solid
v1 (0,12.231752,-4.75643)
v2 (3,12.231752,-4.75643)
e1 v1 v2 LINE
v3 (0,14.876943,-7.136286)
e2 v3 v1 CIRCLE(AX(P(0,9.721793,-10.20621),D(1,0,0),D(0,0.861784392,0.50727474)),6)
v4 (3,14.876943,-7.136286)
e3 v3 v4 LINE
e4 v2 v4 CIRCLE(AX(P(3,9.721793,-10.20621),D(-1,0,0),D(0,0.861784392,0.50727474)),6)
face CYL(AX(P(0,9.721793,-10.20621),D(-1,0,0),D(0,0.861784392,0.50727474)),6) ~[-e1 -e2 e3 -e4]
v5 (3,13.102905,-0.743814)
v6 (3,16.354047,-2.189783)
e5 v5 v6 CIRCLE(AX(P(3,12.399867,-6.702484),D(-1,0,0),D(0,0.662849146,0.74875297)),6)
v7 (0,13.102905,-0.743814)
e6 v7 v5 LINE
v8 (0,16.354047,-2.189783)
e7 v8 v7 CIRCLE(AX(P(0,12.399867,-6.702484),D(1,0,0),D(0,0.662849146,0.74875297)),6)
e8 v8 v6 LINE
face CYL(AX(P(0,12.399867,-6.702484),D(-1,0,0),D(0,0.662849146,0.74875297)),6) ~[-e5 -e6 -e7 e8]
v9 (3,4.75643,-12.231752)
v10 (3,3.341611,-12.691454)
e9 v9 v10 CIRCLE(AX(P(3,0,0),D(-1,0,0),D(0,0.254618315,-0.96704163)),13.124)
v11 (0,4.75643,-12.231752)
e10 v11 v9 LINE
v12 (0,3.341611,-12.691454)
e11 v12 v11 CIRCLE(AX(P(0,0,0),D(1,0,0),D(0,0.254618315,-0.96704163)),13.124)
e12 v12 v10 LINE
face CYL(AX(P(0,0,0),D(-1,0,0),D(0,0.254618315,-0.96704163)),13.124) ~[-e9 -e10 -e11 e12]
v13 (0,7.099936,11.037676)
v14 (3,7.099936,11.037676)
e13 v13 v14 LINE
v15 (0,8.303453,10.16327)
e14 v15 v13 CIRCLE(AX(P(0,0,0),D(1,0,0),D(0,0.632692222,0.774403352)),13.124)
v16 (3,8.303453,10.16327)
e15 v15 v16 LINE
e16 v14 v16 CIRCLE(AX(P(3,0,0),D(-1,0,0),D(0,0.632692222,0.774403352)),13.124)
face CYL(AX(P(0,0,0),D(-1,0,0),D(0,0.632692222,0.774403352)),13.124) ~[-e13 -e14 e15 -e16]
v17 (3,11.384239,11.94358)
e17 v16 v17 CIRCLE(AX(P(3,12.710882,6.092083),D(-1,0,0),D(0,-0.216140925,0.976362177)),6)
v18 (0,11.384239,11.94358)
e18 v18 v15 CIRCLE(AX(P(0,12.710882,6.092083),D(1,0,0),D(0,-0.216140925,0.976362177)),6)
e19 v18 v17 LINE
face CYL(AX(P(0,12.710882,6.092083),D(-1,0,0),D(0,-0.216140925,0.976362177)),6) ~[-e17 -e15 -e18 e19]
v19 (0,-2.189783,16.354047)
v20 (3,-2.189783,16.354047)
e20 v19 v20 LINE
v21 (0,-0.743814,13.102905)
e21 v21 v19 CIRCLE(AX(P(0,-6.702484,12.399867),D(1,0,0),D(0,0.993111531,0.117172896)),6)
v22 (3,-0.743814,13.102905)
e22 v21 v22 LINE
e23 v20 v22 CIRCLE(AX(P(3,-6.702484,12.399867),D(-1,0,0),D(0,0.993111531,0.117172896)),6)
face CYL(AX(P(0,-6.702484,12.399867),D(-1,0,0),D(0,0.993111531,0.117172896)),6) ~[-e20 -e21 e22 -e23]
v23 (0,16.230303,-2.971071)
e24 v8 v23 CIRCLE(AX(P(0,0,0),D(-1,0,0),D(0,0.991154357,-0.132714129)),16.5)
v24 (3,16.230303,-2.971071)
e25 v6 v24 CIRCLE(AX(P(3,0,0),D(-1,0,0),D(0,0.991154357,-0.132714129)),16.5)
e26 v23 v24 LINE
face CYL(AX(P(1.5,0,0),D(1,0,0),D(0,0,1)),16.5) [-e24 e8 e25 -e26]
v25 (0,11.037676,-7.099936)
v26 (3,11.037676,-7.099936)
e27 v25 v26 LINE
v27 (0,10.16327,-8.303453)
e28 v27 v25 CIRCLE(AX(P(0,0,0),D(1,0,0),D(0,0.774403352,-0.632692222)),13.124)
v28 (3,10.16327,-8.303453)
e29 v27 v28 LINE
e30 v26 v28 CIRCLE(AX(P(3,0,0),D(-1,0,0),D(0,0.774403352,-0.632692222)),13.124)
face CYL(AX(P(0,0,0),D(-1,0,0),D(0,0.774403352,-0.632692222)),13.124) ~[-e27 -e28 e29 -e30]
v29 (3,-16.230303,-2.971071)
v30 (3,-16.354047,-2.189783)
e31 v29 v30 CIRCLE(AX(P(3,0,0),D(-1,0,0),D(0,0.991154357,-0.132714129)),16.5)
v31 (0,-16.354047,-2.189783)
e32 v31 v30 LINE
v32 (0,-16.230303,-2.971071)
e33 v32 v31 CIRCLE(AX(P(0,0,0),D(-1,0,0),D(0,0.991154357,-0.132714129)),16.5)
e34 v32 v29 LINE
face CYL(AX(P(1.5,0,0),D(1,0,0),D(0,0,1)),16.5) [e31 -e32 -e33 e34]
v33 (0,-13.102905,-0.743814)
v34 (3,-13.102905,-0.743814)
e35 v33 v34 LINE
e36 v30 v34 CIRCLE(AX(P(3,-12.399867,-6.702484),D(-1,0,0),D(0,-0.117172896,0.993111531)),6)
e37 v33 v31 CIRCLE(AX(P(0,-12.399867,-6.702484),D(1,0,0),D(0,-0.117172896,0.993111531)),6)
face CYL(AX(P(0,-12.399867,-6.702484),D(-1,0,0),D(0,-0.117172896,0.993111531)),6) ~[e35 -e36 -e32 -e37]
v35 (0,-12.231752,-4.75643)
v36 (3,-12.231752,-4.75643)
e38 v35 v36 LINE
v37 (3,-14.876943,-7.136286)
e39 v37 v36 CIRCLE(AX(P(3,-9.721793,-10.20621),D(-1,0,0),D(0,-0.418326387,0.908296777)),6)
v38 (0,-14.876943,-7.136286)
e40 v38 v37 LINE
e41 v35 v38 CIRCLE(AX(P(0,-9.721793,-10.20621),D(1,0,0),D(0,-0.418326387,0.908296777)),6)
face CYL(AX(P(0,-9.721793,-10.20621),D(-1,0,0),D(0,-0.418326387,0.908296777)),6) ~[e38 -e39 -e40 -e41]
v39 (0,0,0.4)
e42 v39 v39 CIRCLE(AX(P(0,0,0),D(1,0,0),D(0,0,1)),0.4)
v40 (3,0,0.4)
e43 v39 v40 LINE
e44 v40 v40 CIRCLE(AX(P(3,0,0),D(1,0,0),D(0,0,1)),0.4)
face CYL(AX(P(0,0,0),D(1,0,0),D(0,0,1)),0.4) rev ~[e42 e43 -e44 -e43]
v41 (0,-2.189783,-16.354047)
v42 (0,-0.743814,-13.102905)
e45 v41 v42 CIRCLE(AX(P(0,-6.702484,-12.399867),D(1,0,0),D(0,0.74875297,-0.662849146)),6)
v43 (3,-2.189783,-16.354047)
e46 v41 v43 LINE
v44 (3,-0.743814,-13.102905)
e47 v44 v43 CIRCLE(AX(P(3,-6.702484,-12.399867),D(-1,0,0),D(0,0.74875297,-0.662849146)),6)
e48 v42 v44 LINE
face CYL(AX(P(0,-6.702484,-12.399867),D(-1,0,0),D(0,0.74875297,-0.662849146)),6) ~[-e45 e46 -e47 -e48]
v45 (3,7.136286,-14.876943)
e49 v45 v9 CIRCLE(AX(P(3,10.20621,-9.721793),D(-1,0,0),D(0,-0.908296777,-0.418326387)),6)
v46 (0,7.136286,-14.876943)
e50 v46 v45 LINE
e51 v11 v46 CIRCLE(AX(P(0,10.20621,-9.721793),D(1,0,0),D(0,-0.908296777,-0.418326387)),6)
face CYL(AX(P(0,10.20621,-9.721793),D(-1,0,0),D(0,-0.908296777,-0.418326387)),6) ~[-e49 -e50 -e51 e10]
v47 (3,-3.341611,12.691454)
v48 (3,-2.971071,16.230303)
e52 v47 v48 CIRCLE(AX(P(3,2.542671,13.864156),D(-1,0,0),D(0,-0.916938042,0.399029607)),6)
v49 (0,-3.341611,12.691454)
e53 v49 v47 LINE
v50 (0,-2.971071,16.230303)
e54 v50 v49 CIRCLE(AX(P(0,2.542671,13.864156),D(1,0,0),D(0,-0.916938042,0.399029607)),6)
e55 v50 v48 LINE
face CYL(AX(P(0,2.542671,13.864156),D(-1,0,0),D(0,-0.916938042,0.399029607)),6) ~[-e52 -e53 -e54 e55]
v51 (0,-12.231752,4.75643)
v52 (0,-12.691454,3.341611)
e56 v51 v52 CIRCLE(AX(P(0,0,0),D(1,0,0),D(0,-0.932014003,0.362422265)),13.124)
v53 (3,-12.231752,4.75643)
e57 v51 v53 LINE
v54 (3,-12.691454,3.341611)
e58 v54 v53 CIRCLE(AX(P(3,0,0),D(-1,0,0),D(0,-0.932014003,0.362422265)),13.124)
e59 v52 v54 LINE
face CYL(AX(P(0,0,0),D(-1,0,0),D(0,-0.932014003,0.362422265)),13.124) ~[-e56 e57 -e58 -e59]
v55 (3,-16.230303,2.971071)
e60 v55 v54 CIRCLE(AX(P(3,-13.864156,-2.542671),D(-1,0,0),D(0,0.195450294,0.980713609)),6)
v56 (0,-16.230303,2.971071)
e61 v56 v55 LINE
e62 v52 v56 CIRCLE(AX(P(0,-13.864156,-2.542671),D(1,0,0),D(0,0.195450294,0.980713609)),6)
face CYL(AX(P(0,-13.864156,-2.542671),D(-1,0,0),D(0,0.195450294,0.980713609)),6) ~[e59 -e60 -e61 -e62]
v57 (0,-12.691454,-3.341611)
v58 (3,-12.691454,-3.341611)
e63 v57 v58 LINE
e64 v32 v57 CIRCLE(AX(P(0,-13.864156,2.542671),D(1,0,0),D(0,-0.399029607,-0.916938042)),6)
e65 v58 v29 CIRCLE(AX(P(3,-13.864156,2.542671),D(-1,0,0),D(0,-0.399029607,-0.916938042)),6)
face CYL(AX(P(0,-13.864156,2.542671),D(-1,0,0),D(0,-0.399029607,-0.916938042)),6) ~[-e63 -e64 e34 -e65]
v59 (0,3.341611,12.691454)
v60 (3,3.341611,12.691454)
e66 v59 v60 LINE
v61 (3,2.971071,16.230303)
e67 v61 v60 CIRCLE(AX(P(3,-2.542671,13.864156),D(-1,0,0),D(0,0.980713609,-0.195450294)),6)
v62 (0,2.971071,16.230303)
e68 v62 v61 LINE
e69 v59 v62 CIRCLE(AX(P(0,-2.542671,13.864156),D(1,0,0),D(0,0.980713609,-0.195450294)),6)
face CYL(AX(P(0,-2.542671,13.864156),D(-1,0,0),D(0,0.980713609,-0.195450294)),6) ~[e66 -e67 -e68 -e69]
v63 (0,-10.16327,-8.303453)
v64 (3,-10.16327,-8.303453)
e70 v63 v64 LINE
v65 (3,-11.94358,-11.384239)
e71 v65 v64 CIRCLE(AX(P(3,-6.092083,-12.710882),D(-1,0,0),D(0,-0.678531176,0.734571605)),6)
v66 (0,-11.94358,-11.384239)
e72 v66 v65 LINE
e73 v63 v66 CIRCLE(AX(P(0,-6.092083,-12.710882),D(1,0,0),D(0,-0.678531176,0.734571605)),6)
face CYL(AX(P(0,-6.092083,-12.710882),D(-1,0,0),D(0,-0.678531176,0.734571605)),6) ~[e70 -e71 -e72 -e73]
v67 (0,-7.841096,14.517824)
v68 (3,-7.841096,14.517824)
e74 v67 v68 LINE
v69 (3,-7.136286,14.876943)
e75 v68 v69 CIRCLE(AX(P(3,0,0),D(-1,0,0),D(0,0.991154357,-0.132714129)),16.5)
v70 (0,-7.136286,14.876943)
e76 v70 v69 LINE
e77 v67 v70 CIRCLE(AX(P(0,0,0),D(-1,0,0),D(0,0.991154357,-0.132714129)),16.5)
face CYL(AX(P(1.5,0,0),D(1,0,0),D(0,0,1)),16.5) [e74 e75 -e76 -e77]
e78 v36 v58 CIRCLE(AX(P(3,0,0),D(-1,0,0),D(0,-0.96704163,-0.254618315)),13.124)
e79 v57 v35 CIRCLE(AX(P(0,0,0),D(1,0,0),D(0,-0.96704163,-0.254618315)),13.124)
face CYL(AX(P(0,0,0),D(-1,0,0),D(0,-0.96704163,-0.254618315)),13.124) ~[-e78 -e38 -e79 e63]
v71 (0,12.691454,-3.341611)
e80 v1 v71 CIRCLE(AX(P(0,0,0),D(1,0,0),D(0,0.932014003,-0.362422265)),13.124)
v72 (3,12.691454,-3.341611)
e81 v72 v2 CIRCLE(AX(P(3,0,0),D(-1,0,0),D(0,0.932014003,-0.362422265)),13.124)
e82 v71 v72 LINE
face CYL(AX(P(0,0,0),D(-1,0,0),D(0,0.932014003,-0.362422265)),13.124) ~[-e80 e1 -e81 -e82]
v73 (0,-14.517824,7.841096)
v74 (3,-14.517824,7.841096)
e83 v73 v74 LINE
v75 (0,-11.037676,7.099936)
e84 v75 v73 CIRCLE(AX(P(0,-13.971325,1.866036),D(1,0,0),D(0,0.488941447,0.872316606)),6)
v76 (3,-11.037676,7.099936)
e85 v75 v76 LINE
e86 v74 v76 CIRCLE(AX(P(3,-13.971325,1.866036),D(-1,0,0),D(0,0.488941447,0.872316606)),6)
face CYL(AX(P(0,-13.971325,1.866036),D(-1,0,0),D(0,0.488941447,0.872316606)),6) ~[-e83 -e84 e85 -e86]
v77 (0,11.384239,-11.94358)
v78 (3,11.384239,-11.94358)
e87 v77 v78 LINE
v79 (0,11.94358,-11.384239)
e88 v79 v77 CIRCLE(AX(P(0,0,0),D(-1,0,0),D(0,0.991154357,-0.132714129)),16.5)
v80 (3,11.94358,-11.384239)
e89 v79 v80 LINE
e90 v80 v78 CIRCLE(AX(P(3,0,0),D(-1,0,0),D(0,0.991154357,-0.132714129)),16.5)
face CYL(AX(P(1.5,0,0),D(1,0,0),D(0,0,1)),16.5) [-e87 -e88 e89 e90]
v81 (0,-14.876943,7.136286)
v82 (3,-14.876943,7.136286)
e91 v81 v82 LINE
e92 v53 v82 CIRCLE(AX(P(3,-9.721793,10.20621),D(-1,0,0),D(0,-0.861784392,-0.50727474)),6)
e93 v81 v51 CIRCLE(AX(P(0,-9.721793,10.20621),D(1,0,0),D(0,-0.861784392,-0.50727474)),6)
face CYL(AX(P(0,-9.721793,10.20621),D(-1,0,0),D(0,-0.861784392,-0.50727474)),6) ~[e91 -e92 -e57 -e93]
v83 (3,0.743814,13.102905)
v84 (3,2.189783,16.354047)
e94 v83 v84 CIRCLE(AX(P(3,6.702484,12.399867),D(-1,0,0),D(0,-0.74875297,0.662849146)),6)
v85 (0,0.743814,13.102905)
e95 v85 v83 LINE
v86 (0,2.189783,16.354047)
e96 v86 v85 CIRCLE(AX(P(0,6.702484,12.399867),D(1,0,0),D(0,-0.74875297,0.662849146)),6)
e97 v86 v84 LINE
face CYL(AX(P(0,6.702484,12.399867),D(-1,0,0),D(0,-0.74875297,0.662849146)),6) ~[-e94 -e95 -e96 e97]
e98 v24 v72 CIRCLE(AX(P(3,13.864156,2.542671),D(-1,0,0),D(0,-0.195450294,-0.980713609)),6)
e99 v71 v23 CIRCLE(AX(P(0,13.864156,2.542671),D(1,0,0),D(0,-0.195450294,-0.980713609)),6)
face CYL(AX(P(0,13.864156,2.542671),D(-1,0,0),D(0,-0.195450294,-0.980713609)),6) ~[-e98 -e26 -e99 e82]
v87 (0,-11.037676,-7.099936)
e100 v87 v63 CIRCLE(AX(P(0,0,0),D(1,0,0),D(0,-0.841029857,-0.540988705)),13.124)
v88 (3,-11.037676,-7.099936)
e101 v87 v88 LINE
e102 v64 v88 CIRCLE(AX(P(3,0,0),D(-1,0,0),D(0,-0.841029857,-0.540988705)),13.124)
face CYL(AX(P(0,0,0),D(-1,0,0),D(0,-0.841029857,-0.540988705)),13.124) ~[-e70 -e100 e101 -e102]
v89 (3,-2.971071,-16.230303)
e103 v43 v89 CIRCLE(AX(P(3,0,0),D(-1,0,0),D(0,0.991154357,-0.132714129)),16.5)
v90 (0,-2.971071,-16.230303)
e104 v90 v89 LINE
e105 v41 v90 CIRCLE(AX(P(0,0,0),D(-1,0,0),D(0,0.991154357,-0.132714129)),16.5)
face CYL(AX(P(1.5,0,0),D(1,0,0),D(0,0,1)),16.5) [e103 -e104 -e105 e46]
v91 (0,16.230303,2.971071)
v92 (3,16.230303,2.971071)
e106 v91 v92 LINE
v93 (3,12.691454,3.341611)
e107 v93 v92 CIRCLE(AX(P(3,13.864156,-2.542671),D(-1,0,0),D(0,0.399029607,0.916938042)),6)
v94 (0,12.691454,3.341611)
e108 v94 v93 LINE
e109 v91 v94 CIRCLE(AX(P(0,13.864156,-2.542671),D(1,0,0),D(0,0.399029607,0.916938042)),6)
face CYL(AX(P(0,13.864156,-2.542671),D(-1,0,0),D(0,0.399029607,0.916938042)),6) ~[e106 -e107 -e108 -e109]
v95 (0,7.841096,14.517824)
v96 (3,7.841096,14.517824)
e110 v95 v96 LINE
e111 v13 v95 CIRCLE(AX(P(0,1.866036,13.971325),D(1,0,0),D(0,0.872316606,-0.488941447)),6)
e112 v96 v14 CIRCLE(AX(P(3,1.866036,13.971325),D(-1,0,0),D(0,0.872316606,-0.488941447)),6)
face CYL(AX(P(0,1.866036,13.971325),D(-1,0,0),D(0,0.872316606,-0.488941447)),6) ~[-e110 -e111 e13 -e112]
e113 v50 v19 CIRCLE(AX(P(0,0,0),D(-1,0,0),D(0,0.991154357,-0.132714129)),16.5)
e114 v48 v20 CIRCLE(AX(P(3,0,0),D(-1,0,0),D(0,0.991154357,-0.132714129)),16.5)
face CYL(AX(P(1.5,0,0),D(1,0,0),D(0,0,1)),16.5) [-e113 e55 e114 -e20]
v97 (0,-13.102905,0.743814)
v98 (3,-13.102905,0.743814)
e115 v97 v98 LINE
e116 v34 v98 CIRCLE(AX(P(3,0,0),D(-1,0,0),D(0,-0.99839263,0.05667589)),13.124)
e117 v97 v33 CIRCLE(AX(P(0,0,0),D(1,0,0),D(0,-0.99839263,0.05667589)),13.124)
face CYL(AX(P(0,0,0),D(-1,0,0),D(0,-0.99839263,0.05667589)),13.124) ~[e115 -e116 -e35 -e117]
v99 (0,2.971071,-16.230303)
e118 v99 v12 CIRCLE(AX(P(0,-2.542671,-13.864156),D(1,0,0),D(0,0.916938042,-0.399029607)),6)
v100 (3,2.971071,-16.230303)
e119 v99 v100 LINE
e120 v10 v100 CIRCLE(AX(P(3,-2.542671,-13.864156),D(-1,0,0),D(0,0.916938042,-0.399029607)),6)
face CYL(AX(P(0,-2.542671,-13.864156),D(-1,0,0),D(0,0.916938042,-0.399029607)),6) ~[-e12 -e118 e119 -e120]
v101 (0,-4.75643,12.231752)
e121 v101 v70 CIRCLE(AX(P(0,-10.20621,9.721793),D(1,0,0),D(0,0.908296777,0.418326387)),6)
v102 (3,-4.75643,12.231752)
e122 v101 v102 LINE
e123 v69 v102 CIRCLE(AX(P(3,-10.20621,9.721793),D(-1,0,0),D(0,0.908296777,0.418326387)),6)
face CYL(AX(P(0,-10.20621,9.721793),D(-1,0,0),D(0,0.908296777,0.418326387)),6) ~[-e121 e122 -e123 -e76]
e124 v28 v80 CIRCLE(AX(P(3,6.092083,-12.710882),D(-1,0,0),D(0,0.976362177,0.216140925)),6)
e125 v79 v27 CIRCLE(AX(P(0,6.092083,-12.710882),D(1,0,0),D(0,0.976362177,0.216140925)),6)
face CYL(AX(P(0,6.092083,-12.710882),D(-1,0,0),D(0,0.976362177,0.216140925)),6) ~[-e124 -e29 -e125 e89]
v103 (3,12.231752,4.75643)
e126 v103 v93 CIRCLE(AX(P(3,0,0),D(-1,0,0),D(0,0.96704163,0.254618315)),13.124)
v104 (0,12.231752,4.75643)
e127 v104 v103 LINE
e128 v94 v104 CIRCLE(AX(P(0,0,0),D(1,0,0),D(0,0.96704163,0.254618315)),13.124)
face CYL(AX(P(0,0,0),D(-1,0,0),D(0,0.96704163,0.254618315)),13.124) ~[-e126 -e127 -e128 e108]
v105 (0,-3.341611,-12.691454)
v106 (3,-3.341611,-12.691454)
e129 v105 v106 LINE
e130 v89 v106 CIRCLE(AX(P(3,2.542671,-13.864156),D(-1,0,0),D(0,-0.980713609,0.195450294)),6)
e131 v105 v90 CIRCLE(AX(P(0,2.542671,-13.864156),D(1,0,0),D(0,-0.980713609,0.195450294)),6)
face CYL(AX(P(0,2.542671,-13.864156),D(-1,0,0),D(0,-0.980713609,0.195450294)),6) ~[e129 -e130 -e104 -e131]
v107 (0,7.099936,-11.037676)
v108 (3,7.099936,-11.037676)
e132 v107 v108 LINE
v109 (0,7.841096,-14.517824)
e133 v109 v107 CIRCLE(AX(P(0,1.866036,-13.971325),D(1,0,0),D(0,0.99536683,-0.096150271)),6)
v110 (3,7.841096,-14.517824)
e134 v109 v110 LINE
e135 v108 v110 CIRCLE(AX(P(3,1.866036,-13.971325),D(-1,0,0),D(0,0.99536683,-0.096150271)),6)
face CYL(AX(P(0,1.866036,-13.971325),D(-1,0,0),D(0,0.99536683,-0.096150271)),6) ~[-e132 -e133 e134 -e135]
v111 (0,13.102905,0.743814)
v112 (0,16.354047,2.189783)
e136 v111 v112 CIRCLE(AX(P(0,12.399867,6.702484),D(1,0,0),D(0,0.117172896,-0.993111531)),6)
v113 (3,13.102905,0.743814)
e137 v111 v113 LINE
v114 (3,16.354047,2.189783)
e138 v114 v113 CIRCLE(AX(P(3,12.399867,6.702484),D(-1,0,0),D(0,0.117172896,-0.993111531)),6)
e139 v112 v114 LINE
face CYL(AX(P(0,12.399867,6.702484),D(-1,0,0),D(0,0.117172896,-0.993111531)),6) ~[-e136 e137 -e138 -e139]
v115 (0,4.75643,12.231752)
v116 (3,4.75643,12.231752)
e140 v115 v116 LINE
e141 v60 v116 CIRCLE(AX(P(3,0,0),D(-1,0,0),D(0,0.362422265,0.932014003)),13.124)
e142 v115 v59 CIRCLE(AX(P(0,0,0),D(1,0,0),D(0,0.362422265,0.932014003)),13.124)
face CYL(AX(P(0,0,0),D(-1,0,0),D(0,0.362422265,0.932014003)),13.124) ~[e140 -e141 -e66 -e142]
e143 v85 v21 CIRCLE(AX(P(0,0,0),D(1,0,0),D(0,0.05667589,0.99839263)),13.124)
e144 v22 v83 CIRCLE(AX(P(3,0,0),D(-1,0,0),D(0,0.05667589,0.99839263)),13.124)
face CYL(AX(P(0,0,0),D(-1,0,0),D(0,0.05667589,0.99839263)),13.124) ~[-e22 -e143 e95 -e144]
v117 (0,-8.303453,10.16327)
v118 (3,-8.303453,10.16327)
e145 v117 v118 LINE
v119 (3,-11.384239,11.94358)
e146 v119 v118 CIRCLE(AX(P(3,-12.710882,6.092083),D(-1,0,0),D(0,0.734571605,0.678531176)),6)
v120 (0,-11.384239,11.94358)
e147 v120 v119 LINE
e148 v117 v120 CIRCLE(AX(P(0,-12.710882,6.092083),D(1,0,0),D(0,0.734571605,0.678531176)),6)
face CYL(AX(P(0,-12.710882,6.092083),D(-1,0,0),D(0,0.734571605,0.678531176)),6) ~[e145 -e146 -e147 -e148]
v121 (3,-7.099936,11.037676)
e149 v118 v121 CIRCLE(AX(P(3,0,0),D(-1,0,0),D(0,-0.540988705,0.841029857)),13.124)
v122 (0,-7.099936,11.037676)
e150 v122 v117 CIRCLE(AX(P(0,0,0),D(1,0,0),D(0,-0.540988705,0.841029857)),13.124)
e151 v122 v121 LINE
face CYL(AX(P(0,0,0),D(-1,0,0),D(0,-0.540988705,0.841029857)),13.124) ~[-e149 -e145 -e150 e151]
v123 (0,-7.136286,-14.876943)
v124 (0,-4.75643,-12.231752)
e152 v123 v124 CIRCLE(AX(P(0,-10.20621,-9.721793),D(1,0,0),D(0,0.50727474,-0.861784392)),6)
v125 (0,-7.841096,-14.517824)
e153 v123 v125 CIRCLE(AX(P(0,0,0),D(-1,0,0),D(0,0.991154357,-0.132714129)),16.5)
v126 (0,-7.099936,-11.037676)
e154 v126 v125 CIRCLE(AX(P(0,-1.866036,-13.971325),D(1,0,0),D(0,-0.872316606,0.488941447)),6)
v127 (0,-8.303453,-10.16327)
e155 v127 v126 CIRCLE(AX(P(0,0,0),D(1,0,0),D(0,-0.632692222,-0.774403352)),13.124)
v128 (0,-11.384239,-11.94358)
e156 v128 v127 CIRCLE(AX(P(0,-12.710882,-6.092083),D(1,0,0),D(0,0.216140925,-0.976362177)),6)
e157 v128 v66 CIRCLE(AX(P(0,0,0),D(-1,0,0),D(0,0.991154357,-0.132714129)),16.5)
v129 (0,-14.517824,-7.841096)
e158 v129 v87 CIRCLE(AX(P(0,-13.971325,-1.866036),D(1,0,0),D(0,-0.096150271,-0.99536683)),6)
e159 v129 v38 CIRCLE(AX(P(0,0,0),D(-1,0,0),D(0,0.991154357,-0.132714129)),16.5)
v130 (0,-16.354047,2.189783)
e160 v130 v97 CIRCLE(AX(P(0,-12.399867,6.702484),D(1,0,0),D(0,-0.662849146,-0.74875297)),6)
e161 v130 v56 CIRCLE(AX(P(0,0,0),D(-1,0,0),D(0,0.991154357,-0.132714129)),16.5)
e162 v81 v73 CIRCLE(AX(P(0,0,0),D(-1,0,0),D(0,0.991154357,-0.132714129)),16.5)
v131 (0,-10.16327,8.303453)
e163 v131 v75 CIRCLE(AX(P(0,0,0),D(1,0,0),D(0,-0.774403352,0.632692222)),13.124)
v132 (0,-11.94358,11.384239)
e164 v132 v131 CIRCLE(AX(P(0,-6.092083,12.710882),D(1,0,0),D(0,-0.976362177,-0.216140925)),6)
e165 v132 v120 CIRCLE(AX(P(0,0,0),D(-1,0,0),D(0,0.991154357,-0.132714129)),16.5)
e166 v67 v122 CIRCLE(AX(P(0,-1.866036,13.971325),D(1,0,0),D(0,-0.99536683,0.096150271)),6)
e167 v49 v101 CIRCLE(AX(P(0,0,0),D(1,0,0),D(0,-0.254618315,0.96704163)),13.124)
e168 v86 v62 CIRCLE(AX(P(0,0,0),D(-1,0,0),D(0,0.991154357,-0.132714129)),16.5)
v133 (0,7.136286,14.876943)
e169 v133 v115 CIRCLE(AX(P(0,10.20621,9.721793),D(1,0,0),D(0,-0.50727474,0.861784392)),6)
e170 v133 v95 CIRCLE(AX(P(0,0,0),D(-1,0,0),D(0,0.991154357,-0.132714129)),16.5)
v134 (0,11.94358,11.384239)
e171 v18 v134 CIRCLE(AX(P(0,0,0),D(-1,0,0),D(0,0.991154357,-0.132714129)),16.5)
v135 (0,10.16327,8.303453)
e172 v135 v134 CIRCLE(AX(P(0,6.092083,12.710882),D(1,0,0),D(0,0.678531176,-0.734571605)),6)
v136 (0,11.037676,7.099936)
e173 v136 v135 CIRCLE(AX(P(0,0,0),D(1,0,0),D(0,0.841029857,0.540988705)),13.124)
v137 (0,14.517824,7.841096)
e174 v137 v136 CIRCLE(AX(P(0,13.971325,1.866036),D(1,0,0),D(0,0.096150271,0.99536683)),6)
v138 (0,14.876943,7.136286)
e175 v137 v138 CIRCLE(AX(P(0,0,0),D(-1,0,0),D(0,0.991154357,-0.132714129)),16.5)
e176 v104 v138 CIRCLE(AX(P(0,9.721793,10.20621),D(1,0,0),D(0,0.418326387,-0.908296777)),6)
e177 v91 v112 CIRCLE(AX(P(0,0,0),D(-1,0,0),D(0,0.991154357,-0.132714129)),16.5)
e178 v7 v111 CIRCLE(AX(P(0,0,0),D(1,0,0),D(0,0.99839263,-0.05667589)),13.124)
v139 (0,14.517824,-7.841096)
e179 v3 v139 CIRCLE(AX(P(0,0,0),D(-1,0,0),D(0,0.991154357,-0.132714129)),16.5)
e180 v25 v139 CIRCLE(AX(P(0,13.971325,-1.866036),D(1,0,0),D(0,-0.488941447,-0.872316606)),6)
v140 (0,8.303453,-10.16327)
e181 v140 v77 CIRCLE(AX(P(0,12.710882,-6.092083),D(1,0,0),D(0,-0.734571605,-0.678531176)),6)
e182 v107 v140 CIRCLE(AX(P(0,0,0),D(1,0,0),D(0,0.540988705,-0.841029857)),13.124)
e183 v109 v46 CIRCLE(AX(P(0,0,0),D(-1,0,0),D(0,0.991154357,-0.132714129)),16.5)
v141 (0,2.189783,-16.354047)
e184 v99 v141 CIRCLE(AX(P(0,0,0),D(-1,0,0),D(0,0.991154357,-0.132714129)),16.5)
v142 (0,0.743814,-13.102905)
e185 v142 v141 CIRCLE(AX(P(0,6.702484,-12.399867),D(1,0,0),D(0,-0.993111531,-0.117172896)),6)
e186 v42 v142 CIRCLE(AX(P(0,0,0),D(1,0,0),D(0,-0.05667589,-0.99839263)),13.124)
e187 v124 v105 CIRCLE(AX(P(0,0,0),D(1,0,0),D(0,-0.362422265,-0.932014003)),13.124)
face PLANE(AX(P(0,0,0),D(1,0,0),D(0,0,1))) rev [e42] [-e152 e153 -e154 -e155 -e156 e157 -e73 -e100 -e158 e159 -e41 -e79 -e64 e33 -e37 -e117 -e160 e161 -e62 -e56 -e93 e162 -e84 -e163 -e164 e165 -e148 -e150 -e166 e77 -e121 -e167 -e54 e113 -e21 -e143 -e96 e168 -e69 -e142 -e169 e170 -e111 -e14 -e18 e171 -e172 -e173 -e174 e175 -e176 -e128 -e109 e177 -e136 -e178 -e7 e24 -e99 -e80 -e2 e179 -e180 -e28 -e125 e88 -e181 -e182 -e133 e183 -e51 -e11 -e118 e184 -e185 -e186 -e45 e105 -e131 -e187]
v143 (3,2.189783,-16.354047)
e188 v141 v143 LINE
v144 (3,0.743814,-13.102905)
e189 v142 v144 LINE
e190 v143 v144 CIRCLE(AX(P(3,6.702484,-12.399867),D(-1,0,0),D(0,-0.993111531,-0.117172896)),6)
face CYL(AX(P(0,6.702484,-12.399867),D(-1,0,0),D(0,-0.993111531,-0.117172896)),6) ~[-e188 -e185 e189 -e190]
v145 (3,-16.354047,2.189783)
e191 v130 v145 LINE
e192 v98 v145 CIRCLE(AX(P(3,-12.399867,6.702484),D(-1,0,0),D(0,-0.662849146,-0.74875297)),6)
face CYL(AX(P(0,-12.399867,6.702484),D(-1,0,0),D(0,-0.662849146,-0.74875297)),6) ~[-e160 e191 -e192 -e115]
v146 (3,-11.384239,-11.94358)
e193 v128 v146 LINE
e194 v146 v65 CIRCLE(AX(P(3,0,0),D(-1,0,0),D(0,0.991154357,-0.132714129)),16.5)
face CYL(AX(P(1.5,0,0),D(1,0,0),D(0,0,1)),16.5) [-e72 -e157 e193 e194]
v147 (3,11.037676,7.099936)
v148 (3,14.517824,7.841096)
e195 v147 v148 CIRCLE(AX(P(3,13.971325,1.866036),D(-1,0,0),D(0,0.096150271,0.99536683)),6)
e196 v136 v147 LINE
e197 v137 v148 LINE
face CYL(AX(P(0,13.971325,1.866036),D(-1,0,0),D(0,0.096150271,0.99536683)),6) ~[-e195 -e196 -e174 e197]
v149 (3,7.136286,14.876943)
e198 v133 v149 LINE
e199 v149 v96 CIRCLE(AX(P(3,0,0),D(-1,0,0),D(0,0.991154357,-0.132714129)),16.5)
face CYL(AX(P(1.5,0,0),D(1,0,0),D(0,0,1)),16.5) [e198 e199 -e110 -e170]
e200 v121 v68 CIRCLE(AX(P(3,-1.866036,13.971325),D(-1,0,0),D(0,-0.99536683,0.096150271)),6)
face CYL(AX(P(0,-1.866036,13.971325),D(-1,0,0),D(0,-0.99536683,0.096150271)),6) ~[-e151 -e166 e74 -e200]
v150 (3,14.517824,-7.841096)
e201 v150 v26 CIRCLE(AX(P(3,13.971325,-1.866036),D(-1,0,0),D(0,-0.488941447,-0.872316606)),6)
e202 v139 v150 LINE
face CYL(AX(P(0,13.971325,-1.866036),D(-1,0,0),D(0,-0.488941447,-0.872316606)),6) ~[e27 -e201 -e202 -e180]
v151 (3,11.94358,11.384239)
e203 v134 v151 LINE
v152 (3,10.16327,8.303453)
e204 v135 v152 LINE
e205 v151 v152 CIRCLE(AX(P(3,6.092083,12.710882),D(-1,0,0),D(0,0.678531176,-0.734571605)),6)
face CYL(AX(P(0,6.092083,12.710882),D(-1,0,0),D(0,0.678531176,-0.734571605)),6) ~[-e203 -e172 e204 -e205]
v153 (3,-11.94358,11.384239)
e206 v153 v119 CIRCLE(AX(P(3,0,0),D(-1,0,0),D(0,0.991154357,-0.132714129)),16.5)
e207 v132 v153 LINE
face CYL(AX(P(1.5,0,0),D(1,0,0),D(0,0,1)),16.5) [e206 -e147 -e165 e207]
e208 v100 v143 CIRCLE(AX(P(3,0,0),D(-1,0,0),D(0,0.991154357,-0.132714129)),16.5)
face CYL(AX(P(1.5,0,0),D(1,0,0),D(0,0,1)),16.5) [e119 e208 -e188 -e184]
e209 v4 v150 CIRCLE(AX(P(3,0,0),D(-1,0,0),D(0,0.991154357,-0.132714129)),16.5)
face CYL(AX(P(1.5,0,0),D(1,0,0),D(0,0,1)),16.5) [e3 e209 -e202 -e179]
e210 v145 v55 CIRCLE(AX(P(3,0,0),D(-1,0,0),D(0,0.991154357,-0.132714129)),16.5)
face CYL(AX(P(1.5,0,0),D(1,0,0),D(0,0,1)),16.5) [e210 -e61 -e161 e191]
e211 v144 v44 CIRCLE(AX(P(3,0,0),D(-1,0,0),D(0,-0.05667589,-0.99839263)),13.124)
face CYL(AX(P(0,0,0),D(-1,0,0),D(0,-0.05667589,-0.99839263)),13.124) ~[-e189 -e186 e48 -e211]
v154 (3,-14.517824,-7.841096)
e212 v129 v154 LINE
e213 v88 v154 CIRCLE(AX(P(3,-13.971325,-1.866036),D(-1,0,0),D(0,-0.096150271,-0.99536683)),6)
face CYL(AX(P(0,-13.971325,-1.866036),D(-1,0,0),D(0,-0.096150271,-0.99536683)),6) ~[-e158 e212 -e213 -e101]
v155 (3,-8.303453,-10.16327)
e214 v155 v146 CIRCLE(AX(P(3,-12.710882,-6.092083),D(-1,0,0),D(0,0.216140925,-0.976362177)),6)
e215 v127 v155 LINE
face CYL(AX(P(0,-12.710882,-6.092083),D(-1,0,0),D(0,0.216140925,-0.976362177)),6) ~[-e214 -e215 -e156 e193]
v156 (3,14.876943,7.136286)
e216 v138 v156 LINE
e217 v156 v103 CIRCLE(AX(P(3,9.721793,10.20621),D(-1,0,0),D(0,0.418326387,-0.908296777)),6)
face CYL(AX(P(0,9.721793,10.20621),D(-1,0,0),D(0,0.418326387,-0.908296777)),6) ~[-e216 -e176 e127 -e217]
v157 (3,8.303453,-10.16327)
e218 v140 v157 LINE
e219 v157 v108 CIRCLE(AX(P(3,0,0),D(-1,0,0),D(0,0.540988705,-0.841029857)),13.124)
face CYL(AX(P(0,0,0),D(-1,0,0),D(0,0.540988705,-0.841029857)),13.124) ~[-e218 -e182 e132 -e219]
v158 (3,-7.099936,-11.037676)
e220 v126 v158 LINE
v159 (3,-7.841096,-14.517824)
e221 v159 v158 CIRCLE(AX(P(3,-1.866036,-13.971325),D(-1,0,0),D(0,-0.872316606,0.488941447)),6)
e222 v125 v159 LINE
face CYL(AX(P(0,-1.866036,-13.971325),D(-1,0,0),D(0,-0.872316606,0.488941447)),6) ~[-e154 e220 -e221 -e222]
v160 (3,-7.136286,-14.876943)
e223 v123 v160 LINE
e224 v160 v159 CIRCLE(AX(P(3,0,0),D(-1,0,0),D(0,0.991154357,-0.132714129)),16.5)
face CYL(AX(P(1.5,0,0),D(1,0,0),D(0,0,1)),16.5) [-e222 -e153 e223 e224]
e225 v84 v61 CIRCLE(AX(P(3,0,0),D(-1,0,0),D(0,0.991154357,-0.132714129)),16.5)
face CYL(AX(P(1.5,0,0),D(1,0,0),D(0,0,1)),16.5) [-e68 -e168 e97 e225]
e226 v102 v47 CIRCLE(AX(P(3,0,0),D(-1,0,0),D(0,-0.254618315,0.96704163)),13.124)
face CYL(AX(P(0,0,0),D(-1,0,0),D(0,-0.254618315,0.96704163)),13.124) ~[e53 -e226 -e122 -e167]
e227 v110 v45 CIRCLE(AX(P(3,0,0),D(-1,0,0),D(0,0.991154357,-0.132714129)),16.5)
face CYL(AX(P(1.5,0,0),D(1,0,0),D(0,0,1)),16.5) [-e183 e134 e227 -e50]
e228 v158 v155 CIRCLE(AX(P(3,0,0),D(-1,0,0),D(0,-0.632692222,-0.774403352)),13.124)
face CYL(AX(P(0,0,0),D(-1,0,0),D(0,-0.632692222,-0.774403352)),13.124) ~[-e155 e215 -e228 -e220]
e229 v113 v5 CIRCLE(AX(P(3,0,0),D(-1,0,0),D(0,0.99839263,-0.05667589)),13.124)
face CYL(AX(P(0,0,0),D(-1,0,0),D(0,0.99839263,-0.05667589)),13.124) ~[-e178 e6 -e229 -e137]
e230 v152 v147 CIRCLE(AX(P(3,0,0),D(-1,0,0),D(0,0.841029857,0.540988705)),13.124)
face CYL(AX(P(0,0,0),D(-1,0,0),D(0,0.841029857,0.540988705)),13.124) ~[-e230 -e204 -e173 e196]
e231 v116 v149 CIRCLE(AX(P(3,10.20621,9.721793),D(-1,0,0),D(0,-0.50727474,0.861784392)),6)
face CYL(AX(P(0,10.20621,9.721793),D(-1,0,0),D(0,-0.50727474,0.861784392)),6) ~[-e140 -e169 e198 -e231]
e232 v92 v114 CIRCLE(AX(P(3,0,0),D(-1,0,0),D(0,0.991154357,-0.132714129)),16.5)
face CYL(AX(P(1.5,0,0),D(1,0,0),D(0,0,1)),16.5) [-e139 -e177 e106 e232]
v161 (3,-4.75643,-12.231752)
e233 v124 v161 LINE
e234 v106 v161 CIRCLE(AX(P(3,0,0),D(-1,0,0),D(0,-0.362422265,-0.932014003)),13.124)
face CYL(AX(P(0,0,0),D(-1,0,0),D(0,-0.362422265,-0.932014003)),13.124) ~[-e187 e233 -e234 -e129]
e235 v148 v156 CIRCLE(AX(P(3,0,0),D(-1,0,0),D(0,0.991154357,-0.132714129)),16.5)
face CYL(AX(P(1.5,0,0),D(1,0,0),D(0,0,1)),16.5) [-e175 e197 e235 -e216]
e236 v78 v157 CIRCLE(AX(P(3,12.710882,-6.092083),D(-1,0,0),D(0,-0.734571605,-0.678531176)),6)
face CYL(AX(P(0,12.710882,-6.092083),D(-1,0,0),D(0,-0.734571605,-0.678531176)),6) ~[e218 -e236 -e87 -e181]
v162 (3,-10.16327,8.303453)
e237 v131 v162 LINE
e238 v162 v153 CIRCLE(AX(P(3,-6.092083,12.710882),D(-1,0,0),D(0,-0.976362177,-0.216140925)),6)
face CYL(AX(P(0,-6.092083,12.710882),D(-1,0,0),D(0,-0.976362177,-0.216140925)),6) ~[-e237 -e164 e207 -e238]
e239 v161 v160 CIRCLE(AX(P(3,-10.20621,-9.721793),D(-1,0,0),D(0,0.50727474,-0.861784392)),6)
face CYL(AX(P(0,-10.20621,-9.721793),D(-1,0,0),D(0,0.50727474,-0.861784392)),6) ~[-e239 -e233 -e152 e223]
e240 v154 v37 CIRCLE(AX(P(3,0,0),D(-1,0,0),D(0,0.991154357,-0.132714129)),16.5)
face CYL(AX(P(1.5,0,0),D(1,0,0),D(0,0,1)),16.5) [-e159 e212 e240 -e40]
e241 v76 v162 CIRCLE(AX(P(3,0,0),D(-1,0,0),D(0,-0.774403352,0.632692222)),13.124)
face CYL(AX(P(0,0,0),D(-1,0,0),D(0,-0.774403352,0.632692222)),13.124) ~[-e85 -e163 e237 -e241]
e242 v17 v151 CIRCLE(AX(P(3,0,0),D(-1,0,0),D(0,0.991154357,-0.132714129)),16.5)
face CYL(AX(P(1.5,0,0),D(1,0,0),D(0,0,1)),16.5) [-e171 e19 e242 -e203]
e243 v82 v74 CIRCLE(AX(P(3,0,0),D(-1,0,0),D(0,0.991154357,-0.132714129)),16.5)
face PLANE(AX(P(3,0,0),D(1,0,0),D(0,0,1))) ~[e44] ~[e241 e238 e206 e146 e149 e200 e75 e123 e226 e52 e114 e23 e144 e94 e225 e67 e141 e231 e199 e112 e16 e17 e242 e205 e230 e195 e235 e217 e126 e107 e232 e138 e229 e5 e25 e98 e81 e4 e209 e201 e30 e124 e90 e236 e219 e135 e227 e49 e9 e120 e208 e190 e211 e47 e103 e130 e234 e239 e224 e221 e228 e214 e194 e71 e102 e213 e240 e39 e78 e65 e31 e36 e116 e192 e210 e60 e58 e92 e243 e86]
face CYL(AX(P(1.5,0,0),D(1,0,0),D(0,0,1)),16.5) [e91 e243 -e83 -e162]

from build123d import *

# Parameters (mm, degrees)
BASPROSKE_W     = 3
BASPROSKE_H     = 16.5
TOOTHCUT_DEPTH  = 24.526580712
TEETHCUTS_COUNT = 20
TEETHCUTS_ANGLE = 342
BORSKE_R        = 0.4
BORE_DEPTH      = 50.0000508


with BuildPart() as part:
    # BasProSke → Base-Revolve (revolve)
    with BuildSketch(Plane(origin=(0, 0, 0), x_dir=(1, 0, 0), z_dir=(0, 1, 0)), mode=Mode.PRIVATE) as base_revolve_sk:
        with Locations((1.5, 8.25)):
            Rectangle(BASPROSKE_W, BASPROSKE_H)
    revolve(base_revolve_sk.sketch.rotate(Axis((-10, 0, 0), (1, 0, 0)), 180), axis=Axis((-10, 0, 0), (1, 0, 0)))

    # TooCutSke → ToothCut (cut, through all)
    with BuildSketch(Plane(origin=(0, 0, 0), x_dir=(0, 0, -1), z_dir=(1, 0, 0))):
        with BuildLine():
            ThreePointArc((0.74381438, 13.102904875), (0, 13.124), (-0.74381438, 13.102904875))
            ThreePointArc((-0.74381438, 13.102904875), (-1.226473103, 14.852072512), (-2.209965745, 16.376962373))
            ThreePointArc((-2.209965745, 16.376962373), (0, 16.5254), (2.209965745, 16.376962373))
            ThreePointArc((2.209965745, 16.376962373), (1.226473103, 14.852072512), (0.74381438, 13.102904875))
        make_face()
    toothcut = extrude(amount=TOOTHCUT_DEPTH, mode=Mode.SUBTRACT)

    # TeethCuts: ToothCut ×20 about axis
    teethcuts_axis = Axis((-10, 0, 0), (1, 0, 0))
    for i in range(1, TEETHCUTS_COUNT):
        add(toothcut.rotate(teethcuts_axis, i * TEETHCUTS_ANGLE / (TEETHCUTS_COUNT - 1)), mode=Mode.SUBTRACT)

    # BorSke → Bore (cut, symmetric)
    with BuildSketch(Plane(origin=(0, 0, 0), x_dir=(0, 0, -1), z_dir=(1, 0, 0))):
        with Locations(Location((0, 0, 0), (0, 0, 180))):
            Circle(BORSKE_R)
    extrude(amount=BORE_DEPTH, both=True, mode=Mode.SUBTRACT)


solid = part.part
